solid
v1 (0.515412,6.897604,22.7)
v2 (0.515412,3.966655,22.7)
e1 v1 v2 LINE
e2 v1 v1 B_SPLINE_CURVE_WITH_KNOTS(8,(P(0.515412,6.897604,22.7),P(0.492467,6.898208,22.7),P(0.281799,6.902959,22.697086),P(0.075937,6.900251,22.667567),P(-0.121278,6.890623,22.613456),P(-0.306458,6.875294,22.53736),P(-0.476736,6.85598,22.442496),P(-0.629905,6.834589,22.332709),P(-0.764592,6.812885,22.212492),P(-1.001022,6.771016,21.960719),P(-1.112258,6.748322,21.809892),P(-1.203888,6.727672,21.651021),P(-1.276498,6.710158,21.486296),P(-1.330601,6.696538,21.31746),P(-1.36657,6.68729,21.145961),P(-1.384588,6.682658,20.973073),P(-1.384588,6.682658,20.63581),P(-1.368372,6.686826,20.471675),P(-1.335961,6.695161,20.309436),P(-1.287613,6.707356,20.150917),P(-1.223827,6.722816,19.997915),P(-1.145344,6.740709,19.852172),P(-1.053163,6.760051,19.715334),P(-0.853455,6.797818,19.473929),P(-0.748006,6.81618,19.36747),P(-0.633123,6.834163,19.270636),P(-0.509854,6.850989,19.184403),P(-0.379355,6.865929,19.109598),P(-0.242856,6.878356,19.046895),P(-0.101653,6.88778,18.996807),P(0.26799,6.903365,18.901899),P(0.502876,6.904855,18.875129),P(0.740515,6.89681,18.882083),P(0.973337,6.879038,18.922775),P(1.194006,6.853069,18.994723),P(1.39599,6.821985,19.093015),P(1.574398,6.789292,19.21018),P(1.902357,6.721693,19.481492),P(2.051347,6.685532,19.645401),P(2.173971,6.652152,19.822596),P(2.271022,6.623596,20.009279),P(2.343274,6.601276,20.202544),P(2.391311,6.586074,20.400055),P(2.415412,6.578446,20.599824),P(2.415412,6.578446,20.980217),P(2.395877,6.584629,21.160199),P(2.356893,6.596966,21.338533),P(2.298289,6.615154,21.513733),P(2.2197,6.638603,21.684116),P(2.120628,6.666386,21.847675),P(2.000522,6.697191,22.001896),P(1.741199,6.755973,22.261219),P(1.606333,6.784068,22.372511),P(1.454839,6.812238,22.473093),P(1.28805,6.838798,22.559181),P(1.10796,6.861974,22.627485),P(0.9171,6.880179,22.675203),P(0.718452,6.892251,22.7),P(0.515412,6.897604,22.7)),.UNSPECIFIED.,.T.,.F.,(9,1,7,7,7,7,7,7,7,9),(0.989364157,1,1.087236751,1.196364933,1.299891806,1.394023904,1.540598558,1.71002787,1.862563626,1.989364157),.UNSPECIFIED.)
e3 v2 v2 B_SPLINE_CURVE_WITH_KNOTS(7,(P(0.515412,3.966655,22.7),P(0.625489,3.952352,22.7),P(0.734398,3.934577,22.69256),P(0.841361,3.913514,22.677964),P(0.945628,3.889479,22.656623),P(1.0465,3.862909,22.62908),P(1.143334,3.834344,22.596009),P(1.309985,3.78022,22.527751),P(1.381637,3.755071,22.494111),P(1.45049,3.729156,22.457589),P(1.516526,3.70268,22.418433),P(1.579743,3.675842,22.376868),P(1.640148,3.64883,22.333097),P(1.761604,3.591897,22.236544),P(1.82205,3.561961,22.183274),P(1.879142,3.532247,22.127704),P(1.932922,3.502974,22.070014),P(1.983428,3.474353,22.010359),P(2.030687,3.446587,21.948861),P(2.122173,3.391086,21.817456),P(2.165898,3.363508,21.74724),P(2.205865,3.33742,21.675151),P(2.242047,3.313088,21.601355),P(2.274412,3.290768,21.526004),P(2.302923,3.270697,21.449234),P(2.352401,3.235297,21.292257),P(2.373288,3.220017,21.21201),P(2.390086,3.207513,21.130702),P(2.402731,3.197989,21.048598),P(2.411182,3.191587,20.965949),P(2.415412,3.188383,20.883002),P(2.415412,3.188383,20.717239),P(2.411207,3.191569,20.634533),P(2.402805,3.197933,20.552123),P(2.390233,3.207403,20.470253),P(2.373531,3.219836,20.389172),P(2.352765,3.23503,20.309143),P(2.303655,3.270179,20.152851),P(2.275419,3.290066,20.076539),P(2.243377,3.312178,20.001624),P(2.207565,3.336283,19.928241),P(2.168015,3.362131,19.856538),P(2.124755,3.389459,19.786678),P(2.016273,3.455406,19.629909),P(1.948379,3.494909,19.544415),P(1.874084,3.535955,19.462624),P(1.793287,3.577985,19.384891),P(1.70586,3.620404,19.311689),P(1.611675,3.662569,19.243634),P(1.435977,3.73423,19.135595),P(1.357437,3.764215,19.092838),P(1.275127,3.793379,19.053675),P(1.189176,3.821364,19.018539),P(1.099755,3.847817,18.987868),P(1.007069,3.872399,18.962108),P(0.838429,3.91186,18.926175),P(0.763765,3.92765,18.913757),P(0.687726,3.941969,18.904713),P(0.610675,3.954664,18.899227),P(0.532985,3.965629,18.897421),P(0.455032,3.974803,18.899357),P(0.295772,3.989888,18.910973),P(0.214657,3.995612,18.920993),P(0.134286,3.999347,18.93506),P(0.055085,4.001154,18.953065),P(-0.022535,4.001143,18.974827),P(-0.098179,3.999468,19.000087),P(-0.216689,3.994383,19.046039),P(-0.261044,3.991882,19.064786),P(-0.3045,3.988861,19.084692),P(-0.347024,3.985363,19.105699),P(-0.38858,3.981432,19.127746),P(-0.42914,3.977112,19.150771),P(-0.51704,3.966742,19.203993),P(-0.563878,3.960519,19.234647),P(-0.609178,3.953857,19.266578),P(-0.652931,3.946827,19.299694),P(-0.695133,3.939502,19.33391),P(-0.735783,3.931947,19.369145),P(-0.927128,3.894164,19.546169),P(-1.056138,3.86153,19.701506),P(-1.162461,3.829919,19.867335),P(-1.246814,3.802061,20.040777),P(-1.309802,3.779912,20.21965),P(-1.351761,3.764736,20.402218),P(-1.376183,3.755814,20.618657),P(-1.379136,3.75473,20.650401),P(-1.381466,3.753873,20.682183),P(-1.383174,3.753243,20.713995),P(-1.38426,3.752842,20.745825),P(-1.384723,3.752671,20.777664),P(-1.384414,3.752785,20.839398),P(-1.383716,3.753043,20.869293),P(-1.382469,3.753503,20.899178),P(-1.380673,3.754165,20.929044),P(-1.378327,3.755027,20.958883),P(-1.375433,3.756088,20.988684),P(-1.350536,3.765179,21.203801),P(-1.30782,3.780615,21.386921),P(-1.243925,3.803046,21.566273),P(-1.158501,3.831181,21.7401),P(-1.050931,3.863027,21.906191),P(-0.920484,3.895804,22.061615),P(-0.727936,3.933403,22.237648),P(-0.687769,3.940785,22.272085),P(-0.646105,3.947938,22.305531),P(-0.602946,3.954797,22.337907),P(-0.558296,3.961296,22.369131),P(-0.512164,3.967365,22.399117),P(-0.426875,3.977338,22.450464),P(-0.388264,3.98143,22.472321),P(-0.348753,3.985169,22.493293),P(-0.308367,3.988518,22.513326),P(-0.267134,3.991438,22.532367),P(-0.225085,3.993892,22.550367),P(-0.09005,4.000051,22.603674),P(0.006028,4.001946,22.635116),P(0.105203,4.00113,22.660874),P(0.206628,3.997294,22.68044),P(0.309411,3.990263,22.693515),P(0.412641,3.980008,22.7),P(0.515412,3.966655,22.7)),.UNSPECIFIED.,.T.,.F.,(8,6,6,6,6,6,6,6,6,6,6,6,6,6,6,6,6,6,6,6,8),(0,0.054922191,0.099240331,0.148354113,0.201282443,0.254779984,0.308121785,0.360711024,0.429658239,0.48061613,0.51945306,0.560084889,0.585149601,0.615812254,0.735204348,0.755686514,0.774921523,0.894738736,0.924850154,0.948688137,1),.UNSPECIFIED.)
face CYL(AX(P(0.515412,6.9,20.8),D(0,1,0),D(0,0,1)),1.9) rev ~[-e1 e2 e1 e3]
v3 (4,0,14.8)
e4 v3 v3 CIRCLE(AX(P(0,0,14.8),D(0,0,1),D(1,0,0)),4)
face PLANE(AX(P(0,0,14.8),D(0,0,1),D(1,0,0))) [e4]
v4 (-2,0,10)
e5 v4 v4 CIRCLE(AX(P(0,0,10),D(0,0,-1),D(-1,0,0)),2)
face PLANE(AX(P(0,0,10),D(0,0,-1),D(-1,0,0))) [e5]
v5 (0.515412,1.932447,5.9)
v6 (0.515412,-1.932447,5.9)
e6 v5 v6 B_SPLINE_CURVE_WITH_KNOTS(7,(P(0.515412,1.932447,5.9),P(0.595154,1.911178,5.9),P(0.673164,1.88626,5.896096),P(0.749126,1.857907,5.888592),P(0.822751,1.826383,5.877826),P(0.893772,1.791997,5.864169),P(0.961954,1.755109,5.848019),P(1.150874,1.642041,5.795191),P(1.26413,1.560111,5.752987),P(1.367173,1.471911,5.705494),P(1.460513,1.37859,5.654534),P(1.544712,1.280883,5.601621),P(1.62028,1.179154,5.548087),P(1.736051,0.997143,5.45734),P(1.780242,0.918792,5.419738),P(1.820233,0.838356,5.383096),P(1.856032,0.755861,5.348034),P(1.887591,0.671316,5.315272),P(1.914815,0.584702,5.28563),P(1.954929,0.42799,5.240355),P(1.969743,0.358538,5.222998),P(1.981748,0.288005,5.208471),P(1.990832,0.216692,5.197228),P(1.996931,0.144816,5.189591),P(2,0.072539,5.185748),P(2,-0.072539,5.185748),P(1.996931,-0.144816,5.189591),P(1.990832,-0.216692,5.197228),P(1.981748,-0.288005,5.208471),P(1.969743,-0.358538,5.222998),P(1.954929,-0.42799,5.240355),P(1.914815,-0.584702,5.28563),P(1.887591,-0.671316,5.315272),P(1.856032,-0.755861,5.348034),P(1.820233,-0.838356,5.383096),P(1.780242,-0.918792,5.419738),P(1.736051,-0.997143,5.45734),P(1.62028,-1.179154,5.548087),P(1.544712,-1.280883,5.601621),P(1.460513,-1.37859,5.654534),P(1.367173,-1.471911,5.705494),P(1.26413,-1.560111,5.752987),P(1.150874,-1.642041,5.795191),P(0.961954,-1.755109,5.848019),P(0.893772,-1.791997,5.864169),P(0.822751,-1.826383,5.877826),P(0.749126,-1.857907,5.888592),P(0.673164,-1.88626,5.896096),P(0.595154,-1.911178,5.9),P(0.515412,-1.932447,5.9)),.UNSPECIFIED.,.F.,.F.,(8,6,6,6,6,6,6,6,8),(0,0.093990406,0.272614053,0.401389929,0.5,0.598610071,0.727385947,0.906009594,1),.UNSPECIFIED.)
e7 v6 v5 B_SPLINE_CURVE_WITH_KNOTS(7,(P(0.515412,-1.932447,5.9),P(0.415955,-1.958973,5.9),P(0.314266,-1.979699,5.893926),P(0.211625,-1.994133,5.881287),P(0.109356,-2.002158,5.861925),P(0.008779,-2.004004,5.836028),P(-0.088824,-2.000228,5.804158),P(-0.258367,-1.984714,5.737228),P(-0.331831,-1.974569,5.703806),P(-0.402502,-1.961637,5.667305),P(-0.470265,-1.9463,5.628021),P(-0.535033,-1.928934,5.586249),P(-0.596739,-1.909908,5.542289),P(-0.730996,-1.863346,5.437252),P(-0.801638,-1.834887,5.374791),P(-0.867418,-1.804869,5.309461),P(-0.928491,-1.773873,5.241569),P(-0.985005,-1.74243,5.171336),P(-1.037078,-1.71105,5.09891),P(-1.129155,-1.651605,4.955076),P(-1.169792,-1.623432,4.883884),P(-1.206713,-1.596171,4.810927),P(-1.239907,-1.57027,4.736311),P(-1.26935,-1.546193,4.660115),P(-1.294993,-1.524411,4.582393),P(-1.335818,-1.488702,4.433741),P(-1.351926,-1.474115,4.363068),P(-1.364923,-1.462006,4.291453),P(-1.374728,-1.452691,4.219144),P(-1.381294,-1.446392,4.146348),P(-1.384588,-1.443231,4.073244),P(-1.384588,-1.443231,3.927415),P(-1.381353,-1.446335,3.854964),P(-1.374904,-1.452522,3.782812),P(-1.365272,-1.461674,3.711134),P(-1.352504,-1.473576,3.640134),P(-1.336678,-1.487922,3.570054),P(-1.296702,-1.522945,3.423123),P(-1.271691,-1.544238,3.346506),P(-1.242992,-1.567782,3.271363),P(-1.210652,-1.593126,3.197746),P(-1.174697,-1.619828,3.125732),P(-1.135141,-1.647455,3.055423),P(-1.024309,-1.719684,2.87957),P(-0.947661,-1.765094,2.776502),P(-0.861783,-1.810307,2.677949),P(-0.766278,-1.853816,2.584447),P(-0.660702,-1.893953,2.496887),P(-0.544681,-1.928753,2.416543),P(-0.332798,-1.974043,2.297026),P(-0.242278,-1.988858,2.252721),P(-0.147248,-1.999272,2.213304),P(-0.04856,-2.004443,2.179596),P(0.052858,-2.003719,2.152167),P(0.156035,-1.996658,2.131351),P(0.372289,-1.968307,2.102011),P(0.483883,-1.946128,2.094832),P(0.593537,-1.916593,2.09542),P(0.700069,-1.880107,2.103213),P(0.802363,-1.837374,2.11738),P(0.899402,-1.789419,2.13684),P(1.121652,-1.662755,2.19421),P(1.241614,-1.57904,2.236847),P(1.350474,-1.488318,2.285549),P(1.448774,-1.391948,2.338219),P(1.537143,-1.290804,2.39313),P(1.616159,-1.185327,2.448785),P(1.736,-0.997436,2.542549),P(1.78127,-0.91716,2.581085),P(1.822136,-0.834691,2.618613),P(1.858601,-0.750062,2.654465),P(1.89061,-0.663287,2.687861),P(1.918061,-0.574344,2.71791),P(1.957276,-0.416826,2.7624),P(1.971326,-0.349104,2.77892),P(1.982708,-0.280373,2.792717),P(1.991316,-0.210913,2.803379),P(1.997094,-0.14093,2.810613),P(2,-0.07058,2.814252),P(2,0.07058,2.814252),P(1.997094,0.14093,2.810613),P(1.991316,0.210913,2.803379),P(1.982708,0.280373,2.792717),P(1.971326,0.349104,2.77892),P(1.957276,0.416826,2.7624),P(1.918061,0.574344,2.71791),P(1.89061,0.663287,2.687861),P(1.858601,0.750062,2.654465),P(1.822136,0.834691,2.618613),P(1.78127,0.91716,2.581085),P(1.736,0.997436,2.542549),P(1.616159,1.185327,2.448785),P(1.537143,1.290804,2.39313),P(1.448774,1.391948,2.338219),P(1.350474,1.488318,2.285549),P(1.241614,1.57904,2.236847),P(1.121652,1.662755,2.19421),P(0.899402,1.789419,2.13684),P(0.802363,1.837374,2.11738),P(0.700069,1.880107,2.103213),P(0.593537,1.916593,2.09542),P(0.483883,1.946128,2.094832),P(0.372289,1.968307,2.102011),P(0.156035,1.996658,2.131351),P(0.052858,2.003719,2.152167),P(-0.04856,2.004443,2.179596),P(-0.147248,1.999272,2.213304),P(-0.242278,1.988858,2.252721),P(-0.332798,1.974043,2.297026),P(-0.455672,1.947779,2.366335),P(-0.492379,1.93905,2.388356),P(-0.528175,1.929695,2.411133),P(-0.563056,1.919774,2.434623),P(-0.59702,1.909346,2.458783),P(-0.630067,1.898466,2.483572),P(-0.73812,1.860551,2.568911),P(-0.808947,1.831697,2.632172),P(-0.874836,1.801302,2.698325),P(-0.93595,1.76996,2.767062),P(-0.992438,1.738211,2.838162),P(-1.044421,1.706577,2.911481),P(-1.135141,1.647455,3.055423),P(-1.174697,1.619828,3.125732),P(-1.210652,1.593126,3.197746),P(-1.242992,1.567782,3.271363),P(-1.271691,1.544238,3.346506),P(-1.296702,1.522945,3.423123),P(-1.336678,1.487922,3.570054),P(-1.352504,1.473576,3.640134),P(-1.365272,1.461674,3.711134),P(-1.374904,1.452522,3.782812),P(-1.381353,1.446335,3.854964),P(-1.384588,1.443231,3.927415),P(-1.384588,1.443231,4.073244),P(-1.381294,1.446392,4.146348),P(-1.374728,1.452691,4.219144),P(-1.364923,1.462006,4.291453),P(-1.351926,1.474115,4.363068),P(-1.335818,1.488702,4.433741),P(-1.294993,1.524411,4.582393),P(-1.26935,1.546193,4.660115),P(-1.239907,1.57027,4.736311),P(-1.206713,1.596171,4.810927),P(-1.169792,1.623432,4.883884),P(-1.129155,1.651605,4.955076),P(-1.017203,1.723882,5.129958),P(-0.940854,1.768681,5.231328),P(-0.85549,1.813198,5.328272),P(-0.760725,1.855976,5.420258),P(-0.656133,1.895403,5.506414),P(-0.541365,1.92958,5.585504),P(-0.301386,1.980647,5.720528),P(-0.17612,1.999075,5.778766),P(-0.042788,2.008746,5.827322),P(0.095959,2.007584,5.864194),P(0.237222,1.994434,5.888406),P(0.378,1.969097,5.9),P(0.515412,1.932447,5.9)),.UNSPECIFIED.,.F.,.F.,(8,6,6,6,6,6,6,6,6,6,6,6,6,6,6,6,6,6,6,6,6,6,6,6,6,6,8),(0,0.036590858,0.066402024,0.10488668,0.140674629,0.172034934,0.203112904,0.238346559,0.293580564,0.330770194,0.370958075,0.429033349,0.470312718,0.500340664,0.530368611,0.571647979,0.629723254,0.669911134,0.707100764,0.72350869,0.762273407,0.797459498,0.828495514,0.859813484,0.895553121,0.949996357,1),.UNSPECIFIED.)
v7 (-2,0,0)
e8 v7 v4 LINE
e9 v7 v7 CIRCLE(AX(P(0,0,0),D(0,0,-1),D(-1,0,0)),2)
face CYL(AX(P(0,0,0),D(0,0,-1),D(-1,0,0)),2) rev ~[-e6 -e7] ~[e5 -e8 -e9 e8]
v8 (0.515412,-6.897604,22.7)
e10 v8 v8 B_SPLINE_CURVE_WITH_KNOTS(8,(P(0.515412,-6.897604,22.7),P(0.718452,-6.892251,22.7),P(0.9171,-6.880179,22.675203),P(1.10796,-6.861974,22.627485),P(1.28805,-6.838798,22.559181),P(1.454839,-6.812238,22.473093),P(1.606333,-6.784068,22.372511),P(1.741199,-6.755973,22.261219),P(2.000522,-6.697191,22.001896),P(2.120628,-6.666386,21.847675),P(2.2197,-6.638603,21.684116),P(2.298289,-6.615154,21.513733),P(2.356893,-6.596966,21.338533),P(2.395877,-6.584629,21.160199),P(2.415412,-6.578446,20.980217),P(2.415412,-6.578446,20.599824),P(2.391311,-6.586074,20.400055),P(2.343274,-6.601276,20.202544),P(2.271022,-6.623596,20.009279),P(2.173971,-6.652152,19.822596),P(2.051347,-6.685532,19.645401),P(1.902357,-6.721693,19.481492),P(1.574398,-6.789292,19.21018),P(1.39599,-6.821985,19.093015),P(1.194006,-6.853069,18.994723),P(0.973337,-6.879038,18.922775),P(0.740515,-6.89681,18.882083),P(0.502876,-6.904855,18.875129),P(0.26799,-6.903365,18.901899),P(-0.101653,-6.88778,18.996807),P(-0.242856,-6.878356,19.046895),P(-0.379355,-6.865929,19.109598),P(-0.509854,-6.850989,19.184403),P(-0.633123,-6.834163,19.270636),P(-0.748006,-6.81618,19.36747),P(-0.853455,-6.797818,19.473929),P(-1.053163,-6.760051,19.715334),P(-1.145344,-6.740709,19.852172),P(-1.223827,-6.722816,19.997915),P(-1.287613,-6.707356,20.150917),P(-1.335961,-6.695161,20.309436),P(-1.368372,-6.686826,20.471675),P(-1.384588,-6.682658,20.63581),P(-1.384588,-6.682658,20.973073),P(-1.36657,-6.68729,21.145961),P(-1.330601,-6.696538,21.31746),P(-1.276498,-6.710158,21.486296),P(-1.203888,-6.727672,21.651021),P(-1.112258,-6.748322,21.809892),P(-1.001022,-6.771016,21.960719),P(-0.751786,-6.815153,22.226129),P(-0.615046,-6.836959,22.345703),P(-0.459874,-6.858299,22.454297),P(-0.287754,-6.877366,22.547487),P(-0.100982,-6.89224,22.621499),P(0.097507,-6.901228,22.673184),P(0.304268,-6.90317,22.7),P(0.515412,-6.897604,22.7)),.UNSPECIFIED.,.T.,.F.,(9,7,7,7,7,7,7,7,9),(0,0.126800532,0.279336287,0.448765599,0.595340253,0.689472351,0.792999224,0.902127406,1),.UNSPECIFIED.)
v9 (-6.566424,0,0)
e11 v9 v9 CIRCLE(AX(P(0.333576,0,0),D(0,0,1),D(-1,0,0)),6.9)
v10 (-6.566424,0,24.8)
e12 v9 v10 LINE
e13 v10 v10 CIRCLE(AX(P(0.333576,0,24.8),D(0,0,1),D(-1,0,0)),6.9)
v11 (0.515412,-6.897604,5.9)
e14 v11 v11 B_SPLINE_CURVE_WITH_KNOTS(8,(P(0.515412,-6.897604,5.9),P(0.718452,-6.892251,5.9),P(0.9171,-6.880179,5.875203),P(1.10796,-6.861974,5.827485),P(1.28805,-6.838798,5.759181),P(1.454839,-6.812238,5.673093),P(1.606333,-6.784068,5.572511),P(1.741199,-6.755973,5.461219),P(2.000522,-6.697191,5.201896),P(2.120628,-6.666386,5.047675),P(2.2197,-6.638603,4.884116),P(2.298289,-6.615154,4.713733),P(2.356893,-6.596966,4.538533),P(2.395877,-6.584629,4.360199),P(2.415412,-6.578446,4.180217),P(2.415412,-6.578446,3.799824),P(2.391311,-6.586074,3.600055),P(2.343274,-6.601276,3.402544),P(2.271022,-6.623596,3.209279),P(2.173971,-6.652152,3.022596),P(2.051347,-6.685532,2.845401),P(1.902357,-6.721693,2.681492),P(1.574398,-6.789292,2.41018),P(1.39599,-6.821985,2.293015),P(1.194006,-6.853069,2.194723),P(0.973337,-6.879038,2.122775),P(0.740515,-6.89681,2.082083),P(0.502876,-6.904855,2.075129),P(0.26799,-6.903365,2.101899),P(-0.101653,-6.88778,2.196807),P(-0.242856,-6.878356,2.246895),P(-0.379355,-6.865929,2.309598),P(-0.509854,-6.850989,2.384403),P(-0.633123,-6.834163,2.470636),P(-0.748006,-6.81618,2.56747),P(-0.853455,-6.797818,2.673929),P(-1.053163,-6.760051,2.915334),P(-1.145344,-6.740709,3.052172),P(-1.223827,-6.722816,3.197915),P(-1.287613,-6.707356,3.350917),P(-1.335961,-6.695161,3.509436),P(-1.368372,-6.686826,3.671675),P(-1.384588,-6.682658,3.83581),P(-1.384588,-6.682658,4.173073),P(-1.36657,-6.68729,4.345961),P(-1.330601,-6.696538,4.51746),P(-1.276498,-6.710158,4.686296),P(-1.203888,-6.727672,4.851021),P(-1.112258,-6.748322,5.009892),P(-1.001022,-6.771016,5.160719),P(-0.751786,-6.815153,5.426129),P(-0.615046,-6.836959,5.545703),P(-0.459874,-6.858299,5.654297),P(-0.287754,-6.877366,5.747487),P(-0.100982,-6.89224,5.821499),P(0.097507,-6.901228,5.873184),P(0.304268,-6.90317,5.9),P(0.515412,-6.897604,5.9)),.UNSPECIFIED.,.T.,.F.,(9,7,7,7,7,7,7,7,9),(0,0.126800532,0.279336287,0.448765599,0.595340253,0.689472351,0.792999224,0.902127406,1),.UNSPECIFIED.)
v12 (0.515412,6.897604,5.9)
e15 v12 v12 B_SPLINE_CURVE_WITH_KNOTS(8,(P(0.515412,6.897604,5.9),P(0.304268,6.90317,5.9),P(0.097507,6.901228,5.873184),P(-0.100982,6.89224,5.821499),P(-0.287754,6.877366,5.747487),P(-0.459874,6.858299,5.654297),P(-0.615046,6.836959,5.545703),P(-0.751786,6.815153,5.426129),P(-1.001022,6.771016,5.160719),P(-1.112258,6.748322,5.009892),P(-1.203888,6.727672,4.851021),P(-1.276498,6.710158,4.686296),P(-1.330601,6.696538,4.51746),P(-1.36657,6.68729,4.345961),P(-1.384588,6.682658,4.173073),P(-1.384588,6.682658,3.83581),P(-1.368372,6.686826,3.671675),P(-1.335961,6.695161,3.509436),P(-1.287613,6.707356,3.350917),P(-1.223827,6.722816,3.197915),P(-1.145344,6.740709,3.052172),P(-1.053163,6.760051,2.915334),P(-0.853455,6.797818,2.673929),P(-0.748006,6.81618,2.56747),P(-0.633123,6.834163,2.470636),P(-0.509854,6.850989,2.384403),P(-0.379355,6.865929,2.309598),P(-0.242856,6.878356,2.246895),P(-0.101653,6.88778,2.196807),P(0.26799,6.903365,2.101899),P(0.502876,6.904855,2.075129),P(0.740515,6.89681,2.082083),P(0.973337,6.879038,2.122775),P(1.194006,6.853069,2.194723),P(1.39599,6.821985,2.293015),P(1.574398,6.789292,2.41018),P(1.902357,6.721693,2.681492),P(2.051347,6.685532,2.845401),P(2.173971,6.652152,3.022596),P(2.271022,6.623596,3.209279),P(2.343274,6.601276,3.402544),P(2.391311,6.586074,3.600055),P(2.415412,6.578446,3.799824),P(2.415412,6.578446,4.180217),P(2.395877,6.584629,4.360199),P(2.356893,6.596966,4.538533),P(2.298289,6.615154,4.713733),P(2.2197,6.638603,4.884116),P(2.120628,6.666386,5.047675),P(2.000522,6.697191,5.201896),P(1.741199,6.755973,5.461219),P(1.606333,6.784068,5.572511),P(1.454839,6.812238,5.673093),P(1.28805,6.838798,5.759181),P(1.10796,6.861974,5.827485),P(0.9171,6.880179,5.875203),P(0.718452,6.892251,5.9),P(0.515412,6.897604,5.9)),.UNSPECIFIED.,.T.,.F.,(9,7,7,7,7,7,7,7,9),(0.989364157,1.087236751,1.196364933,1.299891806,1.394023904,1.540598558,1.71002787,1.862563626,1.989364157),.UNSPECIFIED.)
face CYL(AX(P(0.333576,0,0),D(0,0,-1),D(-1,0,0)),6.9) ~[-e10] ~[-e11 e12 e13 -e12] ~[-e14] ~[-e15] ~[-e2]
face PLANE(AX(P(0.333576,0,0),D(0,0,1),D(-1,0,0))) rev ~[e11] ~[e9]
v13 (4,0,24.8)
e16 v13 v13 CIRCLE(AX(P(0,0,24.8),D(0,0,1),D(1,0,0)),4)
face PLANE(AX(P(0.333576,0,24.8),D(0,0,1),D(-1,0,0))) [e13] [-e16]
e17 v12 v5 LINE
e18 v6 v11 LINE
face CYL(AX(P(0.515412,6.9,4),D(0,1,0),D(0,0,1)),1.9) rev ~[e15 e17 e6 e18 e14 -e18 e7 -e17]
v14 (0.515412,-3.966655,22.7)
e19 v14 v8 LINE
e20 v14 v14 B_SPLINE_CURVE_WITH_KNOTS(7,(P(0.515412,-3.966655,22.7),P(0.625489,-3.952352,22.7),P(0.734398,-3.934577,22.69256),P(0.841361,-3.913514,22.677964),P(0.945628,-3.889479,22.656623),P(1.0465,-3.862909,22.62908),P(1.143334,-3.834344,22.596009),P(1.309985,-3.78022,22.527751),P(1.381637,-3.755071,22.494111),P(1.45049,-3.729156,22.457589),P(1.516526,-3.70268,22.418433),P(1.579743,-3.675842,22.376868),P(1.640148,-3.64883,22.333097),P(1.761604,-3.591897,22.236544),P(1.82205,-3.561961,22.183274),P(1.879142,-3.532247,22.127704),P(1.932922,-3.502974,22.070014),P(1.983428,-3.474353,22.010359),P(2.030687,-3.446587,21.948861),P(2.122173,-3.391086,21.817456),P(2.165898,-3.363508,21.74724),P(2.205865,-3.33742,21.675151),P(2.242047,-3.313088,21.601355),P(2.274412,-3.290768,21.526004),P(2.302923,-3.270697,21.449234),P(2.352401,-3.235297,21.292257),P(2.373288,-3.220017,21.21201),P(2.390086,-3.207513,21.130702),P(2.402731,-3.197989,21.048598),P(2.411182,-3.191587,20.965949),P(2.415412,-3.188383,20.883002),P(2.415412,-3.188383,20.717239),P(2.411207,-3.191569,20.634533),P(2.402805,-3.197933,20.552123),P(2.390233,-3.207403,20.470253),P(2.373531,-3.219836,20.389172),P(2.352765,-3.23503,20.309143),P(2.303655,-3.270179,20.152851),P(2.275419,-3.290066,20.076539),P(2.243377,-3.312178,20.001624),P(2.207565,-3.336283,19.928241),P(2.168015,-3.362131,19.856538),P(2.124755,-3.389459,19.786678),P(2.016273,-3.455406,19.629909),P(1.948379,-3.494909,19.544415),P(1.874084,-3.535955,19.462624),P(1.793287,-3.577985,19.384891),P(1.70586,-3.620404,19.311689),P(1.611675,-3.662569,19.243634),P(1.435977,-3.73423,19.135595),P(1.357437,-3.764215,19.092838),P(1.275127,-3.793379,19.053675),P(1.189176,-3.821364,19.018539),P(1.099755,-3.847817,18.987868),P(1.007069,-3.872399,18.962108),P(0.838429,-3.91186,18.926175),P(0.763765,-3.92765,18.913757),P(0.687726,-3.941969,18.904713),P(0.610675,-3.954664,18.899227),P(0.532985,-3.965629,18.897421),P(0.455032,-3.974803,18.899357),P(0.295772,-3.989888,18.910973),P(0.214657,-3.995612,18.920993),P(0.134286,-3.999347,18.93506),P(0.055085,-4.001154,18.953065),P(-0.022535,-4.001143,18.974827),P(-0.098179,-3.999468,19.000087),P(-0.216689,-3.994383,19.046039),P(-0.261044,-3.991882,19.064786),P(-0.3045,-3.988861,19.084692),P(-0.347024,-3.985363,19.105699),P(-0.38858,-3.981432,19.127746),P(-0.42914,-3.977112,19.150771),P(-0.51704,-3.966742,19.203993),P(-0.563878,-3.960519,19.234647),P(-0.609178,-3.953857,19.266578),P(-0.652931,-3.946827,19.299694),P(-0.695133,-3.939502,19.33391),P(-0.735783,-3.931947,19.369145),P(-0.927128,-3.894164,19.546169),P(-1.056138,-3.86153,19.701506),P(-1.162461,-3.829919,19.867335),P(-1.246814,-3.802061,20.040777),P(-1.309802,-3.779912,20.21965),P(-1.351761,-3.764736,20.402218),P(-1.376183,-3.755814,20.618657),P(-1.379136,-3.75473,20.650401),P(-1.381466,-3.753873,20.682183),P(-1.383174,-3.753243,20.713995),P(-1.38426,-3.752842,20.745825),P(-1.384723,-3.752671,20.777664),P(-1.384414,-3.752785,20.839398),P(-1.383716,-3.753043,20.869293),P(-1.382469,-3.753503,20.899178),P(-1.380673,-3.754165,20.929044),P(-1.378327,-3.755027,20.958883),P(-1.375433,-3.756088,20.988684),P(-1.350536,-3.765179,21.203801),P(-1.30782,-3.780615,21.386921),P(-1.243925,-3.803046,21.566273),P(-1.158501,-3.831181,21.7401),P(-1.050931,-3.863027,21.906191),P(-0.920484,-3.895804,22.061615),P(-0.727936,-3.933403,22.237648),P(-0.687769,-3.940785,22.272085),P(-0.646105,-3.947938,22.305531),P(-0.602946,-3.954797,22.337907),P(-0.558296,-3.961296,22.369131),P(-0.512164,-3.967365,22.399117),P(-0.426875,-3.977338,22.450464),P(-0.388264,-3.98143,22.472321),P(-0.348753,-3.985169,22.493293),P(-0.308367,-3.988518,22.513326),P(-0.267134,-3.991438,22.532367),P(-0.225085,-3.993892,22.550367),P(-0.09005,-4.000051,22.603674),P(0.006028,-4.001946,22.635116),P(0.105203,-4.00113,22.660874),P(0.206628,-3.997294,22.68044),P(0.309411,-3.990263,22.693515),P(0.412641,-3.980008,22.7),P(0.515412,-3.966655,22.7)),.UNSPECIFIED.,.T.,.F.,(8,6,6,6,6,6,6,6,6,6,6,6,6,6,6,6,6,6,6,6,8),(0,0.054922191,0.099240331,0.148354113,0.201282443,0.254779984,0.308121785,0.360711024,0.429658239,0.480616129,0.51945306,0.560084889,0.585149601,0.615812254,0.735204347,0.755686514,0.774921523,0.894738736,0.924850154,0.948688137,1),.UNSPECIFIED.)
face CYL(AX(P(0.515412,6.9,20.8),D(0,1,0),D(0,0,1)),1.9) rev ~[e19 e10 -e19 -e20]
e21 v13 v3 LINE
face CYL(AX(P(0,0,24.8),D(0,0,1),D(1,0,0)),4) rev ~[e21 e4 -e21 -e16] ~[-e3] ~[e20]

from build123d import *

# Parameters (mm, degrees)
SKETCH1_R           = 6.9
BOSS_EXTRUDE1_DEPTH = 24.8
SKETCH2_R           = 1.9
CUT_EXTRUDE1_DEPTH  = 24.8
SKETCH3_R           = 4
CUT_EXTRUDE2_DEPTH  = 10
SKETCH4_R           = 2
CUT_EXTRUDE3_DEPTH  = 10


with BuildPart() as part:
    # Sketch1 → Boss-Extrude1 (new body)
    with BuildSketch(Plane.XY):
        with Locations(Location((0.333575811, 0, 0), (0, 0, 180))):
            Circle(SKETCH1_R)
    extrude(amount=BOSS_EXTRUDE1_DEPTH)

    # Sketch2 → Cut-Extrude1 (cut)
    with BuildSketch(Plane(origin=(0, 6.9, 0), x_dir=(1, 0, 0), z_dir=(0, 1, 0))):
        with Locations(Location((0.515412316, -4, 0), (0, 0, 270))):
            Circle(SKETCH2_R)
        with Locations(Location((0.515412316, -20.8, 0), (0, 0, 270))):
            Circle(SKETCH2_R)
    extrude(amount=-CUT_EXTRUDE1_DEPTH, mode=Mode.SUBTRACT)

    # Sketch3 → Cut-Extrude2 (cut)
    with BuildSketch(Plane.XY.offset(24.8)):
        Circle(SKETCH3_R)
    extrude(amount=-CUT_EXTRUDE2_DEPTH, mode=Mode.SUBTRACT)

    # Sketch4 → Cut-Extrude3 (cut)
    with BuildSketch(Plane(origin=(0, 0, 0), x_dir=(-1, 0, 0), z_dir=(0, 0, -1))):
        Circle(SKETCH4_R)
    extrude(amount=-CUT_EXTRUDE3_DEPTH, mode=Mode.SUBTRACT)


solid = part.part
